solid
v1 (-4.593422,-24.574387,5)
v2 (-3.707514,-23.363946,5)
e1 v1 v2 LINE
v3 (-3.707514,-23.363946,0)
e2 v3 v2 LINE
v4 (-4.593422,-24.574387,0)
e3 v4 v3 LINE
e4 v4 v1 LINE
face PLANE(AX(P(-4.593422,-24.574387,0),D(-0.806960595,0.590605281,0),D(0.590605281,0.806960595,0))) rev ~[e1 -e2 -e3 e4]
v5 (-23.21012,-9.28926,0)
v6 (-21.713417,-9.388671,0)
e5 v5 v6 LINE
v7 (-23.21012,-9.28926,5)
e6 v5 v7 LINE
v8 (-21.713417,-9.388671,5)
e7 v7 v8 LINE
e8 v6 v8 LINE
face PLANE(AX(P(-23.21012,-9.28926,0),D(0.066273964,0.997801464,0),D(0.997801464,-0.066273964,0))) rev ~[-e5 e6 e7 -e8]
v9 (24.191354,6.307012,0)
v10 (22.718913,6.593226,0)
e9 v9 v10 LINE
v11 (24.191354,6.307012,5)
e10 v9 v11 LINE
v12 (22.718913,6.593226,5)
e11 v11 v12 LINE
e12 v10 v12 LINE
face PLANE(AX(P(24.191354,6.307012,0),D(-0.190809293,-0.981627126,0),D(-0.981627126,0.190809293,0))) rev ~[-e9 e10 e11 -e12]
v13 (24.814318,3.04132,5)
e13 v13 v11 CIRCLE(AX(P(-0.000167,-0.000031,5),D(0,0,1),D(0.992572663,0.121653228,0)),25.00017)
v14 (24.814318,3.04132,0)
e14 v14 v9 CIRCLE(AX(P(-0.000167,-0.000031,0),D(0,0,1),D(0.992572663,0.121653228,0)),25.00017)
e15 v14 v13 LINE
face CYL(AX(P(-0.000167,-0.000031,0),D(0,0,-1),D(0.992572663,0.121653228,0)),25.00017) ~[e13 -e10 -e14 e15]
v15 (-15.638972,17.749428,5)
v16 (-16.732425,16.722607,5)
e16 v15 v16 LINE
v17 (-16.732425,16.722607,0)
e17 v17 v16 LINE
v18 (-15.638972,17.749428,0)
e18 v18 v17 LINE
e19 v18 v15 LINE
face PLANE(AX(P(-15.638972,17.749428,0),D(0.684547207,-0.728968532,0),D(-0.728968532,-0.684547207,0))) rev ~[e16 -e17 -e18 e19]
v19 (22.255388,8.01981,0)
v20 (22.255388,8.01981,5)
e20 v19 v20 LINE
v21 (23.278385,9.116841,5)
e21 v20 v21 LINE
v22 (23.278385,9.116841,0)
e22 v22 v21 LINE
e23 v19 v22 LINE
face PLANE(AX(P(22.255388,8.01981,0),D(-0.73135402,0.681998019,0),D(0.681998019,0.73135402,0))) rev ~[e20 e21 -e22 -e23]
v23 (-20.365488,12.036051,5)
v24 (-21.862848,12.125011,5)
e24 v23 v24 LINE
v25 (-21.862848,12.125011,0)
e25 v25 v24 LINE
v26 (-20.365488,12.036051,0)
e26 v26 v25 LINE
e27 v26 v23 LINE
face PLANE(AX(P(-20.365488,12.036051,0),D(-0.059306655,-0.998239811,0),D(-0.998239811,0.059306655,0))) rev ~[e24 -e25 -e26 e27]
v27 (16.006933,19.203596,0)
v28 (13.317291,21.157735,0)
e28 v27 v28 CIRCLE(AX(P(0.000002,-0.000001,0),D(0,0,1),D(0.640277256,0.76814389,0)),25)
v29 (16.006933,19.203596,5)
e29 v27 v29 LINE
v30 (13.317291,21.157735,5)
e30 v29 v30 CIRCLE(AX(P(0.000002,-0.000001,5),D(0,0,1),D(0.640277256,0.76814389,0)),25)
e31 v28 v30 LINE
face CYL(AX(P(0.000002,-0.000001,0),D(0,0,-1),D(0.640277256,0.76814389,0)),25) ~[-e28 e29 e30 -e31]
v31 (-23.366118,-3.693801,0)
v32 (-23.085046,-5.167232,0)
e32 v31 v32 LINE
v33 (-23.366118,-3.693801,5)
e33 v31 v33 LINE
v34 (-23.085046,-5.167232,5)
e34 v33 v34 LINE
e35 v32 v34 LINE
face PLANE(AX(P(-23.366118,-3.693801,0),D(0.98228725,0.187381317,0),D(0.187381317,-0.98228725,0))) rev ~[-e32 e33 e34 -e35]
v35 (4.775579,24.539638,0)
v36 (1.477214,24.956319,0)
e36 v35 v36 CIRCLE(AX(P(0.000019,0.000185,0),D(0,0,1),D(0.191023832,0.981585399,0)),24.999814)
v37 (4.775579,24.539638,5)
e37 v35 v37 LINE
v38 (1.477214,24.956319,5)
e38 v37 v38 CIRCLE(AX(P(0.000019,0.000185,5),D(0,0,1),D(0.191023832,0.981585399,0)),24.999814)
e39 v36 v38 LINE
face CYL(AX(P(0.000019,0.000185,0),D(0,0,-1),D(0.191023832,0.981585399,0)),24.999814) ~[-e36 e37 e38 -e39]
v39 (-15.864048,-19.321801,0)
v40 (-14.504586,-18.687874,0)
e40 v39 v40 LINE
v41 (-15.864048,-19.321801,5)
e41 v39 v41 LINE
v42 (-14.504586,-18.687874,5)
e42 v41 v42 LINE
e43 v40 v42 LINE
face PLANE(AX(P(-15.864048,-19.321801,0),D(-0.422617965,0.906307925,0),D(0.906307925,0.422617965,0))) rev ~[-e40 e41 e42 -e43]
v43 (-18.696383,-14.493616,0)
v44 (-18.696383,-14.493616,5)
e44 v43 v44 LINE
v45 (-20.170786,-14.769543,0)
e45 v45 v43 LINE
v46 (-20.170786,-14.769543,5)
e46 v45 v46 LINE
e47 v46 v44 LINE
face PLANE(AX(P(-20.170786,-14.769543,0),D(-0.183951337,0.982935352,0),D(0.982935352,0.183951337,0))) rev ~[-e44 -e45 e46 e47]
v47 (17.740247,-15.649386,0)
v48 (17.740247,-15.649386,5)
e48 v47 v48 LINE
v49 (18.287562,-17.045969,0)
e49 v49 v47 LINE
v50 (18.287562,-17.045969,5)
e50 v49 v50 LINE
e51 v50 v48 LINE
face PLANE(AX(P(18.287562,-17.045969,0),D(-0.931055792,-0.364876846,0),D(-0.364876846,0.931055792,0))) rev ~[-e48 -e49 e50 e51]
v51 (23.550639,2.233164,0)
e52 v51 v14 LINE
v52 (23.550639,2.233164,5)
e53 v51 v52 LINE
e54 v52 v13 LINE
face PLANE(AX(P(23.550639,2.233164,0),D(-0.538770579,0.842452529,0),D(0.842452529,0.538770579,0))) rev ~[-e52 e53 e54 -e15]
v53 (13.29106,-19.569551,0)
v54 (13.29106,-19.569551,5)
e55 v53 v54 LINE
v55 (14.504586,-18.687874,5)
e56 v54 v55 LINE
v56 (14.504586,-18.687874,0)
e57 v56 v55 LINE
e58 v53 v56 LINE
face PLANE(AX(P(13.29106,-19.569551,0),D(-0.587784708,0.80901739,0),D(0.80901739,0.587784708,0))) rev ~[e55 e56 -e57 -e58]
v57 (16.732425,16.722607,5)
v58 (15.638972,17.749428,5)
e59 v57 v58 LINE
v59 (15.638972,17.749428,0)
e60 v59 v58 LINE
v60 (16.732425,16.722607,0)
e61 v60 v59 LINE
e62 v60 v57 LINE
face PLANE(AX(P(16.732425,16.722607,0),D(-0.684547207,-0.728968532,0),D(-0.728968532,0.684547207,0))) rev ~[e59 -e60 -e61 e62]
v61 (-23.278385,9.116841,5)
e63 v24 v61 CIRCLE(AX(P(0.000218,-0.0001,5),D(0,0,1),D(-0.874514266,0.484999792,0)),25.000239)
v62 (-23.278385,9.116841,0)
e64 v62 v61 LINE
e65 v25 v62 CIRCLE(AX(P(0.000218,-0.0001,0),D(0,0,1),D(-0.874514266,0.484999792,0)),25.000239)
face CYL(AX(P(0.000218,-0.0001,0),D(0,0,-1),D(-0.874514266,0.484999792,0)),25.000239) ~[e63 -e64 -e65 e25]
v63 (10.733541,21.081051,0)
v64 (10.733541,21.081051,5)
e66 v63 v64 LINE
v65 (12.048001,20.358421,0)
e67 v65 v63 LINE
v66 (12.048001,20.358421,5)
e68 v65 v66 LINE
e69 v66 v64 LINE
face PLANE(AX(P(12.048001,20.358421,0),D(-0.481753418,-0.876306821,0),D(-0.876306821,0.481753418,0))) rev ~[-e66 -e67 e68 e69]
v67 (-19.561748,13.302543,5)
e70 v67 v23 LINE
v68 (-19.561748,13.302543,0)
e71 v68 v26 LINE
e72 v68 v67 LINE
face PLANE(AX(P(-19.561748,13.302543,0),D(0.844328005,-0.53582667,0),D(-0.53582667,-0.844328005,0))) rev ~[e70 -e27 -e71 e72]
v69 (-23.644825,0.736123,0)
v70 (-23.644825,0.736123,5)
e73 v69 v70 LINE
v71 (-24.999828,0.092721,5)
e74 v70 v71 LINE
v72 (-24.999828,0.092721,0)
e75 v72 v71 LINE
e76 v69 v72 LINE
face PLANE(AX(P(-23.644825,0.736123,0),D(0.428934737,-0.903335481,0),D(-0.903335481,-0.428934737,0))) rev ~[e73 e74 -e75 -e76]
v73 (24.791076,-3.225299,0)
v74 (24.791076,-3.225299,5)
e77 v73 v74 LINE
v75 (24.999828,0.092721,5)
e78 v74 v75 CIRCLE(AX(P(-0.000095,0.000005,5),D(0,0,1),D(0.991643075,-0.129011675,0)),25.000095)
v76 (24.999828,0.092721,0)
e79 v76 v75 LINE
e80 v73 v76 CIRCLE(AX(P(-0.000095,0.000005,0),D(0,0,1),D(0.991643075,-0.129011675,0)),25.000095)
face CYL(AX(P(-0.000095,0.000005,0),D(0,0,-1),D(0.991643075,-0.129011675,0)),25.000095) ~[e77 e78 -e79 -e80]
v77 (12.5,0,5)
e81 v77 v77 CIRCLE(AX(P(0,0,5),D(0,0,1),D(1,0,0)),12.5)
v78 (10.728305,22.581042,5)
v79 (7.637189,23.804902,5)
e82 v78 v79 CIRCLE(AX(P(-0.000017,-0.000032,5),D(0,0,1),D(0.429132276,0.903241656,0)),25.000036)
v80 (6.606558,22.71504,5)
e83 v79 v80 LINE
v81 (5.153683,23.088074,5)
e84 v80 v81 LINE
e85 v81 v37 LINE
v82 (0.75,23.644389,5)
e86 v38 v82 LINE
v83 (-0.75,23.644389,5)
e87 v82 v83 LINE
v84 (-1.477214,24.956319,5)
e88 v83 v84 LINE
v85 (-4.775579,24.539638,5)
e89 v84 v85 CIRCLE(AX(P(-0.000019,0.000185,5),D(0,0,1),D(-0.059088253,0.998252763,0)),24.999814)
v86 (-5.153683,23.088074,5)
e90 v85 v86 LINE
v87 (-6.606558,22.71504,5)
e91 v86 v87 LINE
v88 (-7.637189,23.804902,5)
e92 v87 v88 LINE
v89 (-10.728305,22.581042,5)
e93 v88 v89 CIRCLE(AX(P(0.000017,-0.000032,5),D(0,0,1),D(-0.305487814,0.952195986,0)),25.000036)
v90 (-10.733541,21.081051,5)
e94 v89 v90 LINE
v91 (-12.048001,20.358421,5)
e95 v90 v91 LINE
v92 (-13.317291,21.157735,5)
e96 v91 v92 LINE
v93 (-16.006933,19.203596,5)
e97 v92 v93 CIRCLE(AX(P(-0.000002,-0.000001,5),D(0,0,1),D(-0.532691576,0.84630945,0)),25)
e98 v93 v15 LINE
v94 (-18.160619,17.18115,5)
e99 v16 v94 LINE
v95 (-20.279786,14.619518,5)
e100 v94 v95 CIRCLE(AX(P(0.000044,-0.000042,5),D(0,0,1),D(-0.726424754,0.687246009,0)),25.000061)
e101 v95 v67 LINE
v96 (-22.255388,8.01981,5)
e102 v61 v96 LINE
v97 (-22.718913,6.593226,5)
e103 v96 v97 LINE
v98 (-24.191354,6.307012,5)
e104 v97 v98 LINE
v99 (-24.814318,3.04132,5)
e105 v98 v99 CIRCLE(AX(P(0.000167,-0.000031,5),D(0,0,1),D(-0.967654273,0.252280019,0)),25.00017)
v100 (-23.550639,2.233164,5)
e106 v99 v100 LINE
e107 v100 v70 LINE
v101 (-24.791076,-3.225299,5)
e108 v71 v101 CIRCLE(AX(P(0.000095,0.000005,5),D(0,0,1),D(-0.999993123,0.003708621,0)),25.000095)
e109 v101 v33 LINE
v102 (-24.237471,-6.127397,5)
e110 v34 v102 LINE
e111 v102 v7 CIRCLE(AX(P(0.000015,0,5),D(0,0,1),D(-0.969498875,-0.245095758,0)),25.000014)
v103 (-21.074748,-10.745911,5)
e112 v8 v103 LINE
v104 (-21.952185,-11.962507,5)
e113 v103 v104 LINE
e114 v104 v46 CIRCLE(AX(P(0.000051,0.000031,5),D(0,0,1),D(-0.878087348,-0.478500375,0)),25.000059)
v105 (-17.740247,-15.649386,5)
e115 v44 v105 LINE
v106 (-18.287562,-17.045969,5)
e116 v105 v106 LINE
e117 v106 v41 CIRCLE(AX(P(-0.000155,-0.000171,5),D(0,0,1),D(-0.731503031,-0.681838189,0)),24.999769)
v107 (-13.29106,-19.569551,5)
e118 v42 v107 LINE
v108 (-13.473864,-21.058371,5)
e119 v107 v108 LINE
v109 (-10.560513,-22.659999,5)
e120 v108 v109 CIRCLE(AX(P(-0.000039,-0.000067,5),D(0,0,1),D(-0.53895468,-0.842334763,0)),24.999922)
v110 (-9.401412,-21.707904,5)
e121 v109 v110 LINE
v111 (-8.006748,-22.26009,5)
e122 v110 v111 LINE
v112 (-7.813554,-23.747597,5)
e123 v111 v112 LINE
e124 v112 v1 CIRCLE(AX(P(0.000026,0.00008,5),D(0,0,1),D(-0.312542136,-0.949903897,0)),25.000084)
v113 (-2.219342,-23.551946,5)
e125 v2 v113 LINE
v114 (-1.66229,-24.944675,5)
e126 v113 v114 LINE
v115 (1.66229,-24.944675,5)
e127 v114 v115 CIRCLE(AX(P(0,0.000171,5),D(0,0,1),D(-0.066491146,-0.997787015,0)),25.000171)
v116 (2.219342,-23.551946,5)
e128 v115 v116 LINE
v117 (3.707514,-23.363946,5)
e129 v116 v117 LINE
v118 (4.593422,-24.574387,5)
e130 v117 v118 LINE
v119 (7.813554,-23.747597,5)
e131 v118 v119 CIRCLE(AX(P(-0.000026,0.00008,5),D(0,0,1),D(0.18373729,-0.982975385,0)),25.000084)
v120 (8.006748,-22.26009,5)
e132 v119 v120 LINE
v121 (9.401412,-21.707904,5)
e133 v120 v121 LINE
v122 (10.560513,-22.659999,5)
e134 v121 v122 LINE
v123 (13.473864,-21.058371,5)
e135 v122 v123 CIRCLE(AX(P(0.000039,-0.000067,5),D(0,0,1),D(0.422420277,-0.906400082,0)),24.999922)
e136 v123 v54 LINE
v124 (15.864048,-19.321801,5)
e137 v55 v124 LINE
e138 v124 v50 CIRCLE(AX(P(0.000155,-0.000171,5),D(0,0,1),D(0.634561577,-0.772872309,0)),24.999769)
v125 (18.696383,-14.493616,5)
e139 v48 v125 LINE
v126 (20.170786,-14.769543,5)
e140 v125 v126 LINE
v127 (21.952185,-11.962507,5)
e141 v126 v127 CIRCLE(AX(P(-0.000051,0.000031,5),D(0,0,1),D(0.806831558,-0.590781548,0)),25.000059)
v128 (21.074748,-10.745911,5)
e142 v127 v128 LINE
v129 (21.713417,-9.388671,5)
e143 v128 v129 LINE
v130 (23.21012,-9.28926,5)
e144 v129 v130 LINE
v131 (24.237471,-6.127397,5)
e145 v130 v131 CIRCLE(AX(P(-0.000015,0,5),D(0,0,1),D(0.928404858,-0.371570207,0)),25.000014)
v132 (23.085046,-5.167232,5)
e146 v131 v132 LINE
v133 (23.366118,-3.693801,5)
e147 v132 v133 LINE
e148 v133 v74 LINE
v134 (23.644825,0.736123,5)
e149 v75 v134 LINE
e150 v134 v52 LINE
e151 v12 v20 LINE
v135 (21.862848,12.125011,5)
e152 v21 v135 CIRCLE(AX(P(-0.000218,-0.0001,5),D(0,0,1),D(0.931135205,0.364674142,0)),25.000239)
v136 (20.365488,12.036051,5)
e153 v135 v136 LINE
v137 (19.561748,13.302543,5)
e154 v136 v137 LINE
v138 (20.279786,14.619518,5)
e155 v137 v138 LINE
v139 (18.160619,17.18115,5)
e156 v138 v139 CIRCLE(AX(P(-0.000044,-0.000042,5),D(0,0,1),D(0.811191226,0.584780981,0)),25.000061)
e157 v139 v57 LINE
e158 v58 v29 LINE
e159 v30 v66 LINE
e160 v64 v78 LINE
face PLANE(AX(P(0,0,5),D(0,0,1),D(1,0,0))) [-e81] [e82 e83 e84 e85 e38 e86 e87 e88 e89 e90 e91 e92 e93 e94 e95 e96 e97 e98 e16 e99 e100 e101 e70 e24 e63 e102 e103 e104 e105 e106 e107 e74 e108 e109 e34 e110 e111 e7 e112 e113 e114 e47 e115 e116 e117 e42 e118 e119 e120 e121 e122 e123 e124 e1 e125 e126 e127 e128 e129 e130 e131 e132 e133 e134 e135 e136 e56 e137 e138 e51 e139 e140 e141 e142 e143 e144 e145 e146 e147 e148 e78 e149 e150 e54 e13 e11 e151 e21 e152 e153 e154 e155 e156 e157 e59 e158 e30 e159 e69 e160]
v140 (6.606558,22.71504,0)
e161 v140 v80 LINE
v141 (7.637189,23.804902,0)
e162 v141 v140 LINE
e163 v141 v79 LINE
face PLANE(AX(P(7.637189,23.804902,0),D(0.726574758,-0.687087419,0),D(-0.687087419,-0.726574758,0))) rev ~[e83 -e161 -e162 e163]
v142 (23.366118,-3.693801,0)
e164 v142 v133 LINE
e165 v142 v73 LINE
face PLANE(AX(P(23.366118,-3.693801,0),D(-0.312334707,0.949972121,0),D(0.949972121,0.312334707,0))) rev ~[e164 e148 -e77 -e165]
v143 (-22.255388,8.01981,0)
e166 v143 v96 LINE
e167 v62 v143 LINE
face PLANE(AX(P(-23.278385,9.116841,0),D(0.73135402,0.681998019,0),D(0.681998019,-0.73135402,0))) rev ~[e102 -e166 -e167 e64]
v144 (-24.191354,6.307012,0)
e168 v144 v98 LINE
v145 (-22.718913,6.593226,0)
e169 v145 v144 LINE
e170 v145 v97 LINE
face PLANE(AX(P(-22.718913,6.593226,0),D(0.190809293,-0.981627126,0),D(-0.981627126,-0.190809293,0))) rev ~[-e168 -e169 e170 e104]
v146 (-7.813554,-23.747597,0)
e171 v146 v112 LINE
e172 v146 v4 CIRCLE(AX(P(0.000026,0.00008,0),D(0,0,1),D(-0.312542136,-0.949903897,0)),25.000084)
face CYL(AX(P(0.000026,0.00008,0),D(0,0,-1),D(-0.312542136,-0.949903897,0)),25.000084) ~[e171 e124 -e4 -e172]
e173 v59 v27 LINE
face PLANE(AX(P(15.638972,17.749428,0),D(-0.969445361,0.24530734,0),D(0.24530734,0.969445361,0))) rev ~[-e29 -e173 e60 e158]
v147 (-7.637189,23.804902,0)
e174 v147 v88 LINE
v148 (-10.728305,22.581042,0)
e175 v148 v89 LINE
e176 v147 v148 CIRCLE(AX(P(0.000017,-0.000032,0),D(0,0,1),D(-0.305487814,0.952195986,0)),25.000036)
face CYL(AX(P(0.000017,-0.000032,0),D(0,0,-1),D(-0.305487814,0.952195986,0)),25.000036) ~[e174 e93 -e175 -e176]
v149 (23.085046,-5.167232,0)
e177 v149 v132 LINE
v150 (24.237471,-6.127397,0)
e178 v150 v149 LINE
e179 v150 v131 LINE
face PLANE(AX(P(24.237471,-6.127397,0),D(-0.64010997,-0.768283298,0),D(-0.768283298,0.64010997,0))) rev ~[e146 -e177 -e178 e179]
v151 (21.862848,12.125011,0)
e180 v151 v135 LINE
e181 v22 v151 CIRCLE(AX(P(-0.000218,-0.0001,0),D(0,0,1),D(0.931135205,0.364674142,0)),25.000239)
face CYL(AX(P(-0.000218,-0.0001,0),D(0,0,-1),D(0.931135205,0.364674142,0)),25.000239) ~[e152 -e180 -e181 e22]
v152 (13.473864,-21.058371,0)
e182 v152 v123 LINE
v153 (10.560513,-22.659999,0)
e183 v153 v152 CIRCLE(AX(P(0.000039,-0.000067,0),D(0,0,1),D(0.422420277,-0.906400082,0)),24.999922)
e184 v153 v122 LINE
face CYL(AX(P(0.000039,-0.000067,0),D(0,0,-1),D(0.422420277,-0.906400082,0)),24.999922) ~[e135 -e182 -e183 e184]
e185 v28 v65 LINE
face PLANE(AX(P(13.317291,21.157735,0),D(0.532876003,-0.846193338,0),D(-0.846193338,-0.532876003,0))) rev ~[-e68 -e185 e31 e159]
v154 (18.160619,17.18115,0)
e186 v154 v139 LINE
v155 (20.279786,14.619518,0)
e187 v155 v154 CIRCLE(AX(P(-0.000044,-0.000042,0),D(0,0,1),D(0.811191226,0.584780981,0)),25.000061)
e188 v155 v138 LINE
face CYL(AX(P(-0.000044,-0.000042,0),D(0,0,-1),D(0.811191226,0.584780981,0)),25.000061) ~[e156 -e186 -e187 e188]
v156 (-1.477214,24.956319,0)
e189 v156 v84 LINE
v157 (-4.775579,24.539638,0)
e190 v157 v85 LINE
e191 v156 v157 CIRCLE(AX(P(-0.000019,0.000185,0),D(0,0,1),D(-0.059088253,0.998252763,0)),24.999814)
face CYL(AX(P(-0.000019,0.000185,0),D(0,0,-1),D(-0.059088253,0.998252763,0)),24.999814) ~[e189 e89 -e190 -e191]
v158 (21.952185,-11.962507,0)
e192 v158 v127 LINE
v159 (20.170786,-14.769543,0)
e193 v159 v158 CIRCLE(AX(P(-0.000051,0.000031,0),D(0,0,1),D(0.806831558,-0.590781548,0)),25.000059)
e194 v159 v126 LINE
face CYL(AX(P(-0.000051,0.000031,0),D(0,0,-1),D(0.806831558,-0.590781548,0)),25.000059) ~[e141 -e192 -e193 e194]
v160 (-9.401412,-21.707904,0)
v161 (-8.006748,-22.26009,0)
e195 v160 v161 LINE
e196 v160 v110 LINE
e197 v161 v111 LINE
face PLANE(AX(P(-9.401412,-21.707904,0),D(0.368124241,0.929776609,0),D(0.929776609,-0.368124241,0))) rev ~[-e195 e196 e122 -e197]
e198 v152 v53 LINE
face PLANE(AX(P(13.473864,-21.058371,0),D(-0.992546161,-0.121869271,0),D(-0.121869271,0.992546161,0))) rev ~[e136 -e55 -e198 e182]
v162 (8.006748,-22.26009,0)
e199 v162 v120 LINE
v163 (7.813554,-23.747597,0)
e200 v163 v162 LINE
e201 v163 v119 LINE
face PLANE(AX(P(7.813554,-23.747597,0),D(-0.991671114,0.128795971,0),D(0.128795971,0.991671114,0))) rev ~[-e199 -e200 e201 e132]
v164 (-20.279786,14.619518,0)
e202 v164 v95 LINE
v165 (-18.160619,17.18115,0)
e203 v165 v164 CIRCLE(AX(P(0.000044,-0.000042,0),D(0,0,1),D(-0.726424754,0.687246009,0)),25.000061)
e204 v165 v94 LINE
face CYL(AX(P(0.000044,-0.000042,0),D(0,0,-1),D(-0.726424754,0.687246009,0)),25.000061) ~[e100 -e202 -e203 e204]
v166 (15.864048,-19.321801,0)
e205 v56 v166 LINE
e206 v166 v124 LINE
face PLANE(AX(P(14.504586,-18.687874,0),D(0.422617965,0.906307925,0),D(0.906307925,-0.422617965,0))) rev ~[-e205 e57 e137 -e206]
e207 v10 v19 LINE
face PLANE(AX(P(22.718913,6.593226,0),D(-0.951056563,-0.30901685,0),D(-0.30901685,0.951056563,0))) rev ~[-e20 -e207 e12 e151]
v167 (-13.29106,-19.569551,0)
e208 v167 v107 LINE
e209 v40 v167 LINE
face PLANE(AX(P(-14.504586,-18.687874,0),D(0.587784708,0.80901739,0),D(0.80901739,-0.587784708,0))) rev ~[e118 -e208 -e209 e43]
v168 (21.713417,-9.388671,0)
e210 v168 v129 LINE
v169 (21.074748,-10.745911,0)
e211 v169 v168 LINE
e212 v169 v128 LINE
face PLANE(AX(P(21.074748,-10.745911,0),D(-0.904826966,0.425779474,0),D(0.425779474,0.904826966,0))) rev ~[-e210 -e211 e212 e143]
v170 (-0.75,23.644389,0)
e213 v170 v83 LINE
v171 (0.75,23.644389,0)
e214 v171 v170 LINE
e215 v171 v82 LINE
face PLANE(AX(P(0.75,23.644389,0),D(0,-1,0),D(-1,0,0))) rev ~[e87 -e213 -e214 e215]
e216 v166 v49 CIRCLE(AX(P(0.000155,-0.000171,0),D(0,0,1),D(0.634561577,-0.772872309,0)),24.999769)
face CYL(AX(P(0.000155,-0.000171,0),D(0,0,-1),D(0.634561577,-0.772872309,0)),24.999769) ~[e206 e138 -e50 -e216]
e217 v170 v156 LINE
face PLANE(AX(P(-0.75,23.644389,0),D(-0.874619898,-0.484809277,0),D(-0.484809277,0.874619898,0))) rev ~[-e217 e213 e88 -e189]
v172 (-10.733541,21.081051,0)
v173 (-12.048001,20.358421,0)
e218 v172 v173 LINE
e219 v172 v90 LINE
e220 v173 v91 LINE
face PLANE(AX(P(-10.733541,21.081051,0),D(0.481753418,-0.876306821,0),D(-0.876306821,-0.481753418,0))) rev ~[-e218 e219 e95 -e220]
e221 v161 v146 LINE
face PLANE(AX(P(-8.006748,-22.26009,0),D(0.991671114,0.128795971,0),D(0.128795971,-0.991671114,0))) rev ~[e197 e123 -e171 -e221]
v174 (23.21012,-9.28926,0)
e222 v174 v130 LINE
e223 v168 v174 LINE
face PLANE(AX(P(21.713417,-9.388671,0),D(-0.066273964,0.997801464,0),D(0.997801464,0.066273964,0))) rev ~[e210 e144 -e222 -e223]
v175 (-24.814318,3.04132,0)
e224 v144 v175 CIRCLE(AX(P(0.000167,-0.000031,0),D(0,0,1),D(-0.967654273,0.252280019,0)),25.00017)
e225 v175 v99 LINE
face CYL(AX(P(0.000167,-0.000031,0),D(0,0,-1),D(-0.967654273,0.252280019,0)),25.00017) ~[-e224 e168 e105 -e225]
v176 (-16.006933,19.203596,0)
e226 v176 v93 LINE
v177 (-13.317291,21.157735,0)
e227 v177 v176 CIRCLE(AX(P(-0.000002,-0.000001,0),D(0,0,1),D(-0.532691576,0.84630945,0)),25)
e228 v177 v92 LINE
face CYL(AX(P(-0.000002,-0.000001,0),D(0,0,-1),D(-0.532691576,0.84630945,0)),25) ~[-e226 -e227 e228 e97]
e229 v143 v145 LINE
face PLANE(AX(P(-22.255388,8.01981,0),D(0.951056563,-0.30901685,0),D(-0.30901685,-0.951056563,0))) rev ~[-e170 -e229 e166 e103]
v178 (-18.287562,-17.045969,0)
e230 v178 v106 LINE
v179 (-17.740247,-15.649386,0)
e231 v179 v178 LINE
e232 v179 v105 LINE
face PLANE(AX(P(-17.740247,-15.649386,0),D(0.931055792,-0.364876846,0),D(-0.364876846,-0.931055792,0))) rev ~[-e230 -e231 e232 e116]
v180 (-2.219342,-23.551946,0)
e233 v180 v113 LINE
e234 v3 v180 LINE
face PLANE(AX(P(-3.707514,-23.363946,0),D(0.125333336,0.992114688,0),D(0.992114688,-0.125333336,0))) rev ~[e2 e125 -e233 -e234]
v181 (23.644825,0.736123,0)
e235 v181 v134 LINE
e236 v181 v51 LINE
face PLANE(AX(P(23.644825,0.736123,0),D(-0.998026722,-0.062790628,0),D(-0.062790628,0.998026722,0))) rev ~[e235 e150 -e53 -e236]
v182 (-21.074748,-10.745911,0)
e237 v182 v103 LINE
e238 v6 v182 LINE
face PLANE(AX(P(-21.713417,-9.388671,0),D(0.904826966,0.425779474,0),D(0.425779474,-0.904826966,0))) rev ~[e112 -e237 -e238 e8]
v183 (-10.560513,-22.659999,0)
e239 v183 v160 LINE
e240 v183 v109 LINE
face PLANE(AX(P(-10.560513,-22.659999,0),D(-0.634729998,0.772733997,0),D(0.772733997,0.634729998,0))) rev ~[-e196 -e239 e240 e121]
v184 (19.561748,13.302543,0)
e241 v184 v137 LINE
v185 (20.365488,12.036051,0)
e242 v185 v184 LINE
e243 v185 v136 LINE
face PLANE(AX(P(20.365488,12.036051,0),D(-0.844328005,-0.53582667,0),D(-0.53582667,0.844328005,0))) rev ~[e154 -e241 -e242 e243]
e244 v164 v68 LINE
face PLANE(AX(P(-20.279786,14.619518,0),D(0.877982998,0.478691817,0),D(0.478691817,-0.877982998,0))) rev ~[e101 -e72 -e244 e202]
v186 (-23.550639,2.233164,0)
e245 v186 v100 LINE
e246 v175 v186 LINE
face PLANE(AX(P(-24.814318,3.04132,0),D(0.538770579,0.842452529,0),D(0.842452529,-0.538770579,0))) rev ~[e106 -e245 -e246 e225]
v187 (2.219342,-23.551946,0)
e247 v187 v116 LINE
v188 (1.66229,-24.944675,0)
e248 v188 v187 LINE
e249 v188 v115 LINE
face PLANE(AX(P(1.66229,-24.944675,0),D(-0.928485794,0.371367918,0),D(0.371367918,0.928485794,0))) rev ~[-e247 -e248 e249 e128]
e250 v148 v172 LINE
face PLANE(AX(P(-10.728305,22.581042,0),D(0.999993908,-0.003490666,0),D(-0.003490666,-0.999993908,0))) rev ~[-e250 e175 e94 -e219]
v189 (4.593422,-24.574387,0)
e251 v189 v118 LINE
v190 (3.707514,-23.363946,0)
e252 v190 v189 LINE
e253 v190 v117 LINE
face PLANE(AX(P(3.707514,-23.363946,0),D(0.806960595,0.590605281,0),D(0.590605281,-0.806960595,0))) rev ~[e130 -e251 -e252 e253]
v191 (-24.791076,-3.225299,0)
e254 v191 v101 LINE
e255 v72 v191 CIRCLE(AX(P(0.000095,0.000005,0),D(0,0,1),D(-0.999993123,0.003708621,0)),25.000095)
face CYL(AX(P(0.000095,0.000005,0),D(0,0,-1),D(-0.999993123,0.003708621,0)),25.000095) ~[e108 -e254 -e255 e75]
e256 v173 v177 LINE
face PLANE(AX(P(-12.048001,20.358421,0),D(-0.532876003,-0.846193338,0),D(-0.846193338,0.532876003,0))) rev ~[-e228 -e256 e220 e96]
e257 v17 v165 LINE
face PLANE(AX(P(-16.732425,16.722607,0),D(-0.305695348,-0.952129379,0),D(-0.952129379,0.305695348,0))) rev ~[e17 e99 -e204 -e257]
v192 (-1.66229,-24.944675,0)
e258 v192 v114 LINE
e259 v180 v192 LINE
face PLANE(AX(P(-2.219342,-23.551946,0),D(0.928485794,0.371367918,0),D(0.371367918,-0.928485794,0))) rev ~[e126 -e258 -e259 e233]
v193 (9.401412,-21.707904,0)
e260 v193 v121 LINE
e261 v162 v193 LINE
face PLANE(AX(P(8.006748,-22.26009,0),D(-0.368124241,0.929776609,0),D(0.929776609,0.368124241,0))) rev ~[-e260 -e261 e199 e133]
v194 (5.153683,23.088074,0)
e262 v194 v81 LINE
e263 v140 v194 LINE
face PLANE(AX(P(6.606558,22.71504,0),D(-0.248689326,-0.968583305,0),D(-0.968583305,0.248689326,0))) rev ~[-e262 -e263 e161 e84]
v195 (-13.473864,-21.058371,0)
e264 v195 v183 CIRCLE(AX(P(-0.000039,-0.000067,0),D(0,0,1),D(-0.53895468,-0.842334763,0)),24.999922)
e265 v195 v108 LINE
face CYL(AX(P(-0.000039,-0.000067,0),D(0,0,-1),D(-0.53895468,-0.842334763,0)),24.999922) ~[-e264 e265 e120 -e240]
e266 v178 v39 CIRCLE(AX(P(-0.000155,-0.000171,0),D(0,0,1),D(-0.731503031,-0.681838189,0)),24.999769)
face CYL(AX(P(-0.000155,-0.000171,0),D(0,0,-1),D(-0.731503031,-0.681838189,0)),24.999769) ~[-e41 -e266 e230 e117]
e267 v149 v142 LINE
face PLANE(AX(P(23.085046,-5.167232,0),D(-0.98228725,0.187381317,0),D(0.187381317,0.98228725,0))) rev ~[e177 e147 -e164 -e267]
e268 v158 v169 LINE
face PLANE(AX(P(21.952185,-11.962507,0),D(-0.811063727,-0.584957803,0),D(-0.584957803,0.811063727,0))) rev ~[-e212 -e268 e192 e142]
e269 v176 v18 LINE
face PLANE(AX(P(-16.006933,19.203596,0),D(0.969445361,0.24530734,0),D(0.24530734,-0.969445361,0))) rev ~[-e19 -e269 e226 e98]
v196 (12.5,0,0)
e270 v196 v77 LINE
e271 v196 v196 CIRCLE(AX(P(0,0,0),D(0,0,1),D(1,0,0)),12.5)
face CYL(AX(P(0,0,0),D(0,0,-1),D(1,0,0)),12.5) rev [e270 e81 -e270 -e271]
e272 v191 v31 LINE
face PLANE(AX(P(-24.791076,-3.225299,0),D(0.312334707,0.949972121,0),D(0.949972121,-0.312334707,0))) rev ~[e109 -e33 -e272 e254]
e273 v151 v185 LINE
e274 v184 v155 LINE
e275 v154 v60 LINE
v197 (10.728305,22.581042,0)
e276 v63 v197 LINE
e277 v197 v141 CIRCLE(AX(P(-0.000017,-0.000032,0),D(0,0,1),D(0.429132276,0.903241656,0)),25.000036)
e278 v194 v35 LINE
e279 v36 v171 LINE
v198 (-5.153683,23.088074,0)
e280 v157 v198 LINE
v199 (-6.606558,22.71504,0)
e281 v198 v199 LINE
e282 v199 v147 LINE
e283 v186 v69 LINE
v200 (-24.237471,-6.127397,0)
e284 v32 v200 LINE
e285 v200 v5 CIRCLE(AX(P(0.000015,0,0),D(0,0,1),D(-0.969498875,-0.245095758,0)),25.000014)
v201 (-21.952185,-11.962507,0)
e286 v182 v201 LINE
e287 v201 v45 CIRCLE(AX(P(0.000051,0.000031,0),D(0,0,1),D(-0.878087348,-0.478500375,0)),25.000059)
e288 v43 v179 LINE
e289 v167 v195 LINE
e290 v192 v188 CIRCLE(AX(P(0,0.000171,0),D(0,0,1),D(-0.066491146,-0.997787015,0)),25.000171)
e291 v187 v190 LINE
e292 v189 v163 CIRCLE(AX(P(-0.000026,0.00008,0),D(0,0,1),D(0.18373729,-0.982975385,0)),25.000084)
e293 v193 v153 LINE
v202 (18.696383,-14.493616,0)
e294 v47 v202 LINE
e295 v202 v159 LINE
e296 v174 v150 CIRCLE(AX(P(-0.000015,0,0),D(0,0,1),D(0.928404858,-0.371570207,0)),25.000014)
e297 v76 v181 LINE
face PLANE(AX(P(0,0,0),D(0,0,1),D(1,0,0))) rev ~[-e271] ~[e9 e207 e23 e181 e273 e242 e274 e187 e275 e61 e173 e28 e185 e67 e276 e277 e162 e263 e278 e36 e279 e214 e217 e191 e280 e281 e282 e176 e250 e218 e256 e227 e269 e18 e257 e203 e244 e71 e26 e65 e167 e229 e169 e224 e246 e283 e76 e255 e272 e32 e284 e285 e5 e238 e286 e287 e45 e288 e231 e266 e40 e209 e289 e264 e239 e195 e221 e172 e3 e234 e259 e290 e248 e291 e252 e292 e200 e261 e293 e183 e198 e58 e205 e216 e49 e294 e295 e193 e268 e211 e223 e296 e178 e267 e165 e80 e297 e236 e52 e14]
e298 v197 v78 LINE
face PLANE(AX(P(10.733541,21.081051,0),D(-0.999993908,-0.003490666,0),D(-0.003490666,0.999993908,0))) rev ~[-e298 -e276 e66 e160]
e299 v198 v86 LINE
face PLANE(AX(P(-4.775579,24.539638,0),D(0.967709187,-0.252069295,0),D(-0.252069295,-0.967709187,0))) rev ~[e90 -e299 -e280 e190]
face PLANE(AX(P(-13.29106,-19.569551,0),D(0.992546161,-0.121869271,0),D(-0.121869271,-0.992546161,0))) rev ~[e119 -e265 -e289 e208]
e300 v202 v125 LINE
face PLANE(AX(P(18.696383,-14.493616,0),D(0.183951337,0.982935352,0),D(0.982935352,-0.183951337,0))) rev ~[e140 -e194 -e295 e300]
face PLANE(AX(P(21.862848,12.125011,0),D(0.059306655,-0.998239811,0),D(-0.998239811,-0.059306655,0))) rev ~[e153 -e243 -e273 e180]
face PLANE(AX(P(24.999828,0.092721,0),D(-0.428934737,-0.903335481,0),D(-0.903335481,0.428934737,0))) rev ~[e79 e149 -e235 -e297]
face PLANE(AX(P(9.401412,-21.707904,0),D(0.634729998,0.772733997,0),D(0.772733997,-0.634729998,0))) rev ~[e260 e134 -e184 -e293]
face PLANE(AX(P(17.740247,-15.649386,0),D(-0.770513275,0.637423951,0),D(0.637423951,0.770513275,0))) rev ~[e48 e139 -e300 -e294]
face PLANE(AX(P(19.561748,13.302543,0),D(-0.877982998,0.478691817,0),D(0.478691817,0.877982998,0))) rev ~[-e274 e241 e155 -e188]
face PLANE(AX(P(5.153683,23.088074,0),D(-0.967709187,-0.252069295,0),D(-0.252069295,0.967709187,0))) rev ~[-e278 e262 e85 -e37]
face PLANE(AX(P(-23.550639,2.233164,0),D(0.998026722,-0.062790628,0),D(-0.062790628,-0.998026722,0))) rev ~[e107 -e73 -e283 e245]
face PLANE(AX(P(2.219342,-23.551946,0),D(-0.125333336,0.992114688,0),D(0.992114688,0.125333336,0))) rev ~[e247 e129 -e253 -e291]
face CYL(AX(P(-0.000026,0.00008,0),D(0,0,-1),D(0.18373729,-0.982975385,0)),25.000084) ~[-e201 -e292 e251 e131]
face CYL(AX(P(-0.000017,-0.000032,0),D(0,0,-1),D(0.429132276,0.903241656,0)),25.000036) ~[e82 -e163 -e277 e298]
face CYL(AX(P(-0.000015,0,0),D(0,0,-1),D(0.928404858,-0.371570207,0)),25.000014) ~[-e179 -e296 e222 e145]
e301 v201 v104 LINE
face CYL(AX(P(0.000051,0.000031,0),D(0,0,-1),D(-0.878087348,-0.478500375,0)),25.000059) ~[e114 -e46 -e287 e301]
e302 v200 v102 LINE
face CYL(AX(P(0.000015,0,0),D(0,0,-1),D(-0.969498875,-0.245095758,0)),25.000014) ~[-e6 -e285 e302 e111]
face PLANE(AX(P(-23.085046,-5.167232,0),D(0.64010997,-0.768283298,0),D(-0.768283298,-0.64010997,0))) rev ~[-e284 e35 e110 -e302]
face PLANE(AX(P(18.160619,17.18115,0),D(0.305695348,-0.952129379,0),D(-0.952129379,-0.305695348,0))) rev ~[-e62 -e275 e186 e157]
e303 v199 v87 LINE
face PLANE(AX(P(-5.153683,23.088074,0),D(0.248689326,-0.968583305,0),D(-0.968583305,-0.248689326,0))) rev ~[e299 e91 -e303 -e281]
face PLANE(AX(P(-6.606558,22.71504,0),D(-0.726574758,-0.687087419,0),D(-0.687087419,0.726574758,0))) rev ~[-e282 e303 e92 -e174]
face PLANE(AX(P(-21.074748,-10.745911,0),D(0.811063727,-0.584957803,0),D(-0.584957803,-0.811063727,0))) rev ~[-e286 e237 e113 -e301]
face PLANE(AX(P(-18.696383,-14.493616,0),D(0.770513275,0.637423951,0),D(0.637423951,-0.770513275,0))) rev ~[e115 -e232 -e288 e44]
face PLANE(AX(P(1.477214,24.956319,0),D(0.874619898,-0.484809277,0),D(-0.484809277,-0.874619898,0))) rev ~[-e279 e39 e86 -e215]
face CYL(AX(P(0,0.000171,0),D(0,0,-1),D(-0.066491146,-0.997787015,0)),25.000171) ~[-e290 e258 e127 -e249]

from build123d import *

# Parameters (mm, degrees)
F0_R     = 12.5
F1_DEPTH = 5


with BuildPart() as f1:
    # F0 (on Top) → F1 (new body)
    with BuildSketch(Plane.XY):
        with BuildLine():
            Line((-6.606558, 22.71504), (-7.637189, 23.804902))
            ThreePointArc((-7.637189, 23.804902), (-9.203114, 23.244412), (-10.728305, 22.581042))
            Line((-10.728305, 22.581042), (-10.733541, 21.081051))
            Line((-10.733541, 21.081051), (-12.048001, 20.358421))
            Line((-12.048001, 20.358421), (-13.317291, 21.157735))
            ThreePointArc((-13.317291, 21.157735), (-14.694631, 20.225425), (-16.006933, 19.203596))
            Line((-16.006933, 19.203596), (-15.638972, 17.749428))
            Line((-15.638972, 17.749428), (-16.732425, 16.722607))
            Line((-16.732425, 16.722607), (-18.160619, 17.18115))
            ThreePointArc((-18.160619, 17.18115), (-19.262831, 15.9356), (-20.279786, 14.619518))
            Line((-20.279786, 14.619518), (-19.561748, 13.302543))
            Line((-19.561748, 13.302543), (-20.365488, 12.036051))
            Line((-20.365488, 12.036051), (-21.862848, 12.125011))
            ThreePointArc((-21.862848, 12.125011), (-22.620676, 10.644482), (-23.278385, 9.116841))
            Line((-23.278385, 9.116841), (-22.255388, 8.01981))
            Line((-22.255388, 8.01981), (-22.718913, 6.593226))
            Line((-22.718913, 6.593226), (-24.191354, 6.307012))
            ThreePointArc((-24.191354, 6.307012), (-24.557181, 4.684533), (-24.814318, 3.04132))
            Line((-24.814318, 3.04132), (-23.550639, 2.233164))
            Line((-23.550639, 2.233164), (-23.644825, 0.736123))
            Line((-23.644825, 0.736123), (-24.999828, 0.092721))
            ThreePointArc((-24.999828, 0.092721), (-24.950668, -1.569763), (-24.791076, -3.225299))
            Line((-24.791076, -3.225299), (-23.366118, -3.693801))
            Line((-23.366118, -3.693801), (-23.085046, -5.167232))
            Line((-23.085046, -5.167232), (-24.237471, -6.127397))
            ThreePointArc((-24.237471, -6.127397), (-23.776413, -7.725425), (-23.21012, -9.28926))
            Line((-23.21012, -9.28926), (-21.713417, -9.388671))
            Line((-21.713417, -9.388671), (-21.074748, -10.745911))
            Line((-21.074748, -10.745911), (-21.952185, -11.962507))
            ThreePointArc((-21.952185, -11.962507), (-21.108198, -13.39567), (-20.170786, -14.769543))
            Line((-20.170786, -14.769543), (-18.696383, -14.493616))
            Line((-18.696383, -14.493616), (-17.740247, -15.649386))
            Line((-17.740247, -15.649386), (-18.287562, -17.045969))
            ThreePointArc((-18.287562, -17.045969), (-17.113678, -18.224216), (-15.864048, -19.321801))
            Line((-15.864048, -19.321801), (-14.504586, -18.687874))
            Line((-14.504586, -18.687874), (-13.29106, -19.569551))
            Line((-13.29106, -19.569551), (-13.473864, -21.058371))
            ThreePointArc((-13.473864, -21.058371), (-12.043842, -21.907667), (-10.560513, -22.659999))
            Line((-10.560513, -22.659999), (-9.401412, -21.707904))
            Line((-9.401412, -21.707904), (-8.006748, -22.26009))
            Line((-8.006748, -22.26009), (-7.813554, -23.747597))
            ThreePointArc((-7.813554, -23.747597), (-6.217247, -24.214579), (-4.593422, -24.574387))
            Line((-4.593422, -24.574387), (-3.707514, -23.363946))
            Line((-3.707514, -23.363946), (-2.219342, -23.551946))
            Line((-2.219342, -23.551946), (-1.66229, -24.944675))
            ThreePointArc((-1.66229, -24.944675), (0, -25), (1.66229, -24.944675))
            Line((1.66229, -24.944675), (2.219342, -23.551946))
            Line((2.219342, -23.551946), (3.707514, -23.363946))
            Line((3.707514, -23.363946), (4.593422, -24.574387))
            ThreePointArc((4.593422, -24.574387), (6.217247, -24.214579), (7.813554, -23.747597))
            Line((7.813554, -23.747597), (8.006748, -22.26009))
            Line((8.006748, -22.26009), (9.401412, -21.707904))
            Line((9.401412, -21.707904), (10.560513, -22.659999))
            ThreePointArc((10.560513, -22.659999), (12.043842, -21.907667), (13.473864, -21.058371))
            Line((13.473864, -21.058371), (13.29106, -19.569551))
            Line((13.29106, -19.569551), (14.504586, -18.687874))
            Line((14.504586, -18.687874), (15.864048, -19.321801))
            ThreePointArc((15.864048, -19.321801), (17.113678, -18.224216), (18.287562, -17.045969))
            Line((18.287562, -17.045969), (17.740247, -15.649386))
            Line((17.740247, -15.649386), (18.696383, -14.493616))
            Line((18.696383, -14.493616), (20.170786, -14.769543))
            ThreePointArc((20.170786, -14.769543), (21.108198, -13.39567), (21.952185, -11.962507))
            Line((21.952185, -11.962507), (21.074748, -10.745911))
            Line((21.074748, -10.745911), (21.713417, -9.388671))
            Line((21.713417, -9.388671), (23.21012, -9.28926))
            ThreePointArc((23.21012, -9.28926), (23.776413, -7.725425), (24.237471, -6.127397))
            Line((24.237471, -6.127397), (23.085046, -5.167232))
            Line((23.085046, -5.167232), (23.366118, -3.693801))
            Line((23.366118, -3.693801), (24.791076, -3.225299))
            ThreePointArc((24.791076, -3.225299), (24.950668, -1.569763), (24.999828, 0.092721))
            Line((24.999828, 0.092721), (23.644825, 0.736123))
            Line((23.644825, 0.736123), (23.550639, 2.233164))
            Line((23.550639, 2.233164), (24.814318, 3.04132))
            ThreePointArc((24.814318, 3.04132), (24.557181, 4.684533), (24.191354, 6.307012))
            Line((24.191354, 6.307012), (22.718913, 6.593226))
            Line((22.718913, 6.593226), (22.255388, 8.01981))
            Line((22.255388, 8.01981), (23.278385, 9.116841))
            ThreePointArc((23.278385, 9.116841), (22.620676, 10.644482), (21.862848, 12.125011))
            Line((21.862848, 12.125011), (20.365488, 12.036051))
            Line((20.365488, 12.036051), (19.561748, 13.302543))
            Line((19.561748, 13.302543), (20.279786, 14.619518))
            ThreePointArc((20.279786, 14.619518), (19.262831, 15.9356), (18.160619, 17.18115))
            Line((18.160619, 17.18115), (16.732425, 16.722607))
            Line((16.732425, 16.722607), (15.638972, 17.749428))
            Line((15.638972, 17.749428), (16.006933, 19.203596))
            ThreePointArc((16.006933, 19.203596), (14.694631, 20.225425), (13.317291, 21.157735))
            Line((13.317291, 21.157735), (12.048001, 20.358421))
            Line((12.048001, 20.358421), (10.733541, 21.081051))
            Line((10.733541, 21.081051), (10.728305, 22.581042))
            ThreePointArc((10.728305, 22.581042), (9.203114, 23.244412), (7.637189, 23.804902))
            Line((7.637189, 23.804902), (6.606558, 22.71504))
            Line((6.606558, 22.71504), (5.153683, 23.088074))
            Line((5.153683, 23.088074), (4.775579, 24.539638))
            ThreePointArc((4.775579, 24.539638), (3.133331, 24.802868), (1.477214, 24.956319))
            Line((1.477214, 24.956319), (0.75, 23.644389))
            Line((0.75, 23.644389), (-0.75, 23.644389))
            Line((-0.75, 23.644389), (-1.477214, 24.956319))
            ThreePointArc((-1.477214, 24.956319), (-3.133331, 24.802868), (-4.775579, 24.539638))
            Line((-4.775579, 24.539638), (-5.153683, 23.088074))
            Line((-5.153683, 23.088074), (-6.606558, 22.71504))
        make_face()
        Circle(F0_R, mode=Mode.SUBTRACT)
    extrude(amount=F1_DEPTH)


solid = f1.part
